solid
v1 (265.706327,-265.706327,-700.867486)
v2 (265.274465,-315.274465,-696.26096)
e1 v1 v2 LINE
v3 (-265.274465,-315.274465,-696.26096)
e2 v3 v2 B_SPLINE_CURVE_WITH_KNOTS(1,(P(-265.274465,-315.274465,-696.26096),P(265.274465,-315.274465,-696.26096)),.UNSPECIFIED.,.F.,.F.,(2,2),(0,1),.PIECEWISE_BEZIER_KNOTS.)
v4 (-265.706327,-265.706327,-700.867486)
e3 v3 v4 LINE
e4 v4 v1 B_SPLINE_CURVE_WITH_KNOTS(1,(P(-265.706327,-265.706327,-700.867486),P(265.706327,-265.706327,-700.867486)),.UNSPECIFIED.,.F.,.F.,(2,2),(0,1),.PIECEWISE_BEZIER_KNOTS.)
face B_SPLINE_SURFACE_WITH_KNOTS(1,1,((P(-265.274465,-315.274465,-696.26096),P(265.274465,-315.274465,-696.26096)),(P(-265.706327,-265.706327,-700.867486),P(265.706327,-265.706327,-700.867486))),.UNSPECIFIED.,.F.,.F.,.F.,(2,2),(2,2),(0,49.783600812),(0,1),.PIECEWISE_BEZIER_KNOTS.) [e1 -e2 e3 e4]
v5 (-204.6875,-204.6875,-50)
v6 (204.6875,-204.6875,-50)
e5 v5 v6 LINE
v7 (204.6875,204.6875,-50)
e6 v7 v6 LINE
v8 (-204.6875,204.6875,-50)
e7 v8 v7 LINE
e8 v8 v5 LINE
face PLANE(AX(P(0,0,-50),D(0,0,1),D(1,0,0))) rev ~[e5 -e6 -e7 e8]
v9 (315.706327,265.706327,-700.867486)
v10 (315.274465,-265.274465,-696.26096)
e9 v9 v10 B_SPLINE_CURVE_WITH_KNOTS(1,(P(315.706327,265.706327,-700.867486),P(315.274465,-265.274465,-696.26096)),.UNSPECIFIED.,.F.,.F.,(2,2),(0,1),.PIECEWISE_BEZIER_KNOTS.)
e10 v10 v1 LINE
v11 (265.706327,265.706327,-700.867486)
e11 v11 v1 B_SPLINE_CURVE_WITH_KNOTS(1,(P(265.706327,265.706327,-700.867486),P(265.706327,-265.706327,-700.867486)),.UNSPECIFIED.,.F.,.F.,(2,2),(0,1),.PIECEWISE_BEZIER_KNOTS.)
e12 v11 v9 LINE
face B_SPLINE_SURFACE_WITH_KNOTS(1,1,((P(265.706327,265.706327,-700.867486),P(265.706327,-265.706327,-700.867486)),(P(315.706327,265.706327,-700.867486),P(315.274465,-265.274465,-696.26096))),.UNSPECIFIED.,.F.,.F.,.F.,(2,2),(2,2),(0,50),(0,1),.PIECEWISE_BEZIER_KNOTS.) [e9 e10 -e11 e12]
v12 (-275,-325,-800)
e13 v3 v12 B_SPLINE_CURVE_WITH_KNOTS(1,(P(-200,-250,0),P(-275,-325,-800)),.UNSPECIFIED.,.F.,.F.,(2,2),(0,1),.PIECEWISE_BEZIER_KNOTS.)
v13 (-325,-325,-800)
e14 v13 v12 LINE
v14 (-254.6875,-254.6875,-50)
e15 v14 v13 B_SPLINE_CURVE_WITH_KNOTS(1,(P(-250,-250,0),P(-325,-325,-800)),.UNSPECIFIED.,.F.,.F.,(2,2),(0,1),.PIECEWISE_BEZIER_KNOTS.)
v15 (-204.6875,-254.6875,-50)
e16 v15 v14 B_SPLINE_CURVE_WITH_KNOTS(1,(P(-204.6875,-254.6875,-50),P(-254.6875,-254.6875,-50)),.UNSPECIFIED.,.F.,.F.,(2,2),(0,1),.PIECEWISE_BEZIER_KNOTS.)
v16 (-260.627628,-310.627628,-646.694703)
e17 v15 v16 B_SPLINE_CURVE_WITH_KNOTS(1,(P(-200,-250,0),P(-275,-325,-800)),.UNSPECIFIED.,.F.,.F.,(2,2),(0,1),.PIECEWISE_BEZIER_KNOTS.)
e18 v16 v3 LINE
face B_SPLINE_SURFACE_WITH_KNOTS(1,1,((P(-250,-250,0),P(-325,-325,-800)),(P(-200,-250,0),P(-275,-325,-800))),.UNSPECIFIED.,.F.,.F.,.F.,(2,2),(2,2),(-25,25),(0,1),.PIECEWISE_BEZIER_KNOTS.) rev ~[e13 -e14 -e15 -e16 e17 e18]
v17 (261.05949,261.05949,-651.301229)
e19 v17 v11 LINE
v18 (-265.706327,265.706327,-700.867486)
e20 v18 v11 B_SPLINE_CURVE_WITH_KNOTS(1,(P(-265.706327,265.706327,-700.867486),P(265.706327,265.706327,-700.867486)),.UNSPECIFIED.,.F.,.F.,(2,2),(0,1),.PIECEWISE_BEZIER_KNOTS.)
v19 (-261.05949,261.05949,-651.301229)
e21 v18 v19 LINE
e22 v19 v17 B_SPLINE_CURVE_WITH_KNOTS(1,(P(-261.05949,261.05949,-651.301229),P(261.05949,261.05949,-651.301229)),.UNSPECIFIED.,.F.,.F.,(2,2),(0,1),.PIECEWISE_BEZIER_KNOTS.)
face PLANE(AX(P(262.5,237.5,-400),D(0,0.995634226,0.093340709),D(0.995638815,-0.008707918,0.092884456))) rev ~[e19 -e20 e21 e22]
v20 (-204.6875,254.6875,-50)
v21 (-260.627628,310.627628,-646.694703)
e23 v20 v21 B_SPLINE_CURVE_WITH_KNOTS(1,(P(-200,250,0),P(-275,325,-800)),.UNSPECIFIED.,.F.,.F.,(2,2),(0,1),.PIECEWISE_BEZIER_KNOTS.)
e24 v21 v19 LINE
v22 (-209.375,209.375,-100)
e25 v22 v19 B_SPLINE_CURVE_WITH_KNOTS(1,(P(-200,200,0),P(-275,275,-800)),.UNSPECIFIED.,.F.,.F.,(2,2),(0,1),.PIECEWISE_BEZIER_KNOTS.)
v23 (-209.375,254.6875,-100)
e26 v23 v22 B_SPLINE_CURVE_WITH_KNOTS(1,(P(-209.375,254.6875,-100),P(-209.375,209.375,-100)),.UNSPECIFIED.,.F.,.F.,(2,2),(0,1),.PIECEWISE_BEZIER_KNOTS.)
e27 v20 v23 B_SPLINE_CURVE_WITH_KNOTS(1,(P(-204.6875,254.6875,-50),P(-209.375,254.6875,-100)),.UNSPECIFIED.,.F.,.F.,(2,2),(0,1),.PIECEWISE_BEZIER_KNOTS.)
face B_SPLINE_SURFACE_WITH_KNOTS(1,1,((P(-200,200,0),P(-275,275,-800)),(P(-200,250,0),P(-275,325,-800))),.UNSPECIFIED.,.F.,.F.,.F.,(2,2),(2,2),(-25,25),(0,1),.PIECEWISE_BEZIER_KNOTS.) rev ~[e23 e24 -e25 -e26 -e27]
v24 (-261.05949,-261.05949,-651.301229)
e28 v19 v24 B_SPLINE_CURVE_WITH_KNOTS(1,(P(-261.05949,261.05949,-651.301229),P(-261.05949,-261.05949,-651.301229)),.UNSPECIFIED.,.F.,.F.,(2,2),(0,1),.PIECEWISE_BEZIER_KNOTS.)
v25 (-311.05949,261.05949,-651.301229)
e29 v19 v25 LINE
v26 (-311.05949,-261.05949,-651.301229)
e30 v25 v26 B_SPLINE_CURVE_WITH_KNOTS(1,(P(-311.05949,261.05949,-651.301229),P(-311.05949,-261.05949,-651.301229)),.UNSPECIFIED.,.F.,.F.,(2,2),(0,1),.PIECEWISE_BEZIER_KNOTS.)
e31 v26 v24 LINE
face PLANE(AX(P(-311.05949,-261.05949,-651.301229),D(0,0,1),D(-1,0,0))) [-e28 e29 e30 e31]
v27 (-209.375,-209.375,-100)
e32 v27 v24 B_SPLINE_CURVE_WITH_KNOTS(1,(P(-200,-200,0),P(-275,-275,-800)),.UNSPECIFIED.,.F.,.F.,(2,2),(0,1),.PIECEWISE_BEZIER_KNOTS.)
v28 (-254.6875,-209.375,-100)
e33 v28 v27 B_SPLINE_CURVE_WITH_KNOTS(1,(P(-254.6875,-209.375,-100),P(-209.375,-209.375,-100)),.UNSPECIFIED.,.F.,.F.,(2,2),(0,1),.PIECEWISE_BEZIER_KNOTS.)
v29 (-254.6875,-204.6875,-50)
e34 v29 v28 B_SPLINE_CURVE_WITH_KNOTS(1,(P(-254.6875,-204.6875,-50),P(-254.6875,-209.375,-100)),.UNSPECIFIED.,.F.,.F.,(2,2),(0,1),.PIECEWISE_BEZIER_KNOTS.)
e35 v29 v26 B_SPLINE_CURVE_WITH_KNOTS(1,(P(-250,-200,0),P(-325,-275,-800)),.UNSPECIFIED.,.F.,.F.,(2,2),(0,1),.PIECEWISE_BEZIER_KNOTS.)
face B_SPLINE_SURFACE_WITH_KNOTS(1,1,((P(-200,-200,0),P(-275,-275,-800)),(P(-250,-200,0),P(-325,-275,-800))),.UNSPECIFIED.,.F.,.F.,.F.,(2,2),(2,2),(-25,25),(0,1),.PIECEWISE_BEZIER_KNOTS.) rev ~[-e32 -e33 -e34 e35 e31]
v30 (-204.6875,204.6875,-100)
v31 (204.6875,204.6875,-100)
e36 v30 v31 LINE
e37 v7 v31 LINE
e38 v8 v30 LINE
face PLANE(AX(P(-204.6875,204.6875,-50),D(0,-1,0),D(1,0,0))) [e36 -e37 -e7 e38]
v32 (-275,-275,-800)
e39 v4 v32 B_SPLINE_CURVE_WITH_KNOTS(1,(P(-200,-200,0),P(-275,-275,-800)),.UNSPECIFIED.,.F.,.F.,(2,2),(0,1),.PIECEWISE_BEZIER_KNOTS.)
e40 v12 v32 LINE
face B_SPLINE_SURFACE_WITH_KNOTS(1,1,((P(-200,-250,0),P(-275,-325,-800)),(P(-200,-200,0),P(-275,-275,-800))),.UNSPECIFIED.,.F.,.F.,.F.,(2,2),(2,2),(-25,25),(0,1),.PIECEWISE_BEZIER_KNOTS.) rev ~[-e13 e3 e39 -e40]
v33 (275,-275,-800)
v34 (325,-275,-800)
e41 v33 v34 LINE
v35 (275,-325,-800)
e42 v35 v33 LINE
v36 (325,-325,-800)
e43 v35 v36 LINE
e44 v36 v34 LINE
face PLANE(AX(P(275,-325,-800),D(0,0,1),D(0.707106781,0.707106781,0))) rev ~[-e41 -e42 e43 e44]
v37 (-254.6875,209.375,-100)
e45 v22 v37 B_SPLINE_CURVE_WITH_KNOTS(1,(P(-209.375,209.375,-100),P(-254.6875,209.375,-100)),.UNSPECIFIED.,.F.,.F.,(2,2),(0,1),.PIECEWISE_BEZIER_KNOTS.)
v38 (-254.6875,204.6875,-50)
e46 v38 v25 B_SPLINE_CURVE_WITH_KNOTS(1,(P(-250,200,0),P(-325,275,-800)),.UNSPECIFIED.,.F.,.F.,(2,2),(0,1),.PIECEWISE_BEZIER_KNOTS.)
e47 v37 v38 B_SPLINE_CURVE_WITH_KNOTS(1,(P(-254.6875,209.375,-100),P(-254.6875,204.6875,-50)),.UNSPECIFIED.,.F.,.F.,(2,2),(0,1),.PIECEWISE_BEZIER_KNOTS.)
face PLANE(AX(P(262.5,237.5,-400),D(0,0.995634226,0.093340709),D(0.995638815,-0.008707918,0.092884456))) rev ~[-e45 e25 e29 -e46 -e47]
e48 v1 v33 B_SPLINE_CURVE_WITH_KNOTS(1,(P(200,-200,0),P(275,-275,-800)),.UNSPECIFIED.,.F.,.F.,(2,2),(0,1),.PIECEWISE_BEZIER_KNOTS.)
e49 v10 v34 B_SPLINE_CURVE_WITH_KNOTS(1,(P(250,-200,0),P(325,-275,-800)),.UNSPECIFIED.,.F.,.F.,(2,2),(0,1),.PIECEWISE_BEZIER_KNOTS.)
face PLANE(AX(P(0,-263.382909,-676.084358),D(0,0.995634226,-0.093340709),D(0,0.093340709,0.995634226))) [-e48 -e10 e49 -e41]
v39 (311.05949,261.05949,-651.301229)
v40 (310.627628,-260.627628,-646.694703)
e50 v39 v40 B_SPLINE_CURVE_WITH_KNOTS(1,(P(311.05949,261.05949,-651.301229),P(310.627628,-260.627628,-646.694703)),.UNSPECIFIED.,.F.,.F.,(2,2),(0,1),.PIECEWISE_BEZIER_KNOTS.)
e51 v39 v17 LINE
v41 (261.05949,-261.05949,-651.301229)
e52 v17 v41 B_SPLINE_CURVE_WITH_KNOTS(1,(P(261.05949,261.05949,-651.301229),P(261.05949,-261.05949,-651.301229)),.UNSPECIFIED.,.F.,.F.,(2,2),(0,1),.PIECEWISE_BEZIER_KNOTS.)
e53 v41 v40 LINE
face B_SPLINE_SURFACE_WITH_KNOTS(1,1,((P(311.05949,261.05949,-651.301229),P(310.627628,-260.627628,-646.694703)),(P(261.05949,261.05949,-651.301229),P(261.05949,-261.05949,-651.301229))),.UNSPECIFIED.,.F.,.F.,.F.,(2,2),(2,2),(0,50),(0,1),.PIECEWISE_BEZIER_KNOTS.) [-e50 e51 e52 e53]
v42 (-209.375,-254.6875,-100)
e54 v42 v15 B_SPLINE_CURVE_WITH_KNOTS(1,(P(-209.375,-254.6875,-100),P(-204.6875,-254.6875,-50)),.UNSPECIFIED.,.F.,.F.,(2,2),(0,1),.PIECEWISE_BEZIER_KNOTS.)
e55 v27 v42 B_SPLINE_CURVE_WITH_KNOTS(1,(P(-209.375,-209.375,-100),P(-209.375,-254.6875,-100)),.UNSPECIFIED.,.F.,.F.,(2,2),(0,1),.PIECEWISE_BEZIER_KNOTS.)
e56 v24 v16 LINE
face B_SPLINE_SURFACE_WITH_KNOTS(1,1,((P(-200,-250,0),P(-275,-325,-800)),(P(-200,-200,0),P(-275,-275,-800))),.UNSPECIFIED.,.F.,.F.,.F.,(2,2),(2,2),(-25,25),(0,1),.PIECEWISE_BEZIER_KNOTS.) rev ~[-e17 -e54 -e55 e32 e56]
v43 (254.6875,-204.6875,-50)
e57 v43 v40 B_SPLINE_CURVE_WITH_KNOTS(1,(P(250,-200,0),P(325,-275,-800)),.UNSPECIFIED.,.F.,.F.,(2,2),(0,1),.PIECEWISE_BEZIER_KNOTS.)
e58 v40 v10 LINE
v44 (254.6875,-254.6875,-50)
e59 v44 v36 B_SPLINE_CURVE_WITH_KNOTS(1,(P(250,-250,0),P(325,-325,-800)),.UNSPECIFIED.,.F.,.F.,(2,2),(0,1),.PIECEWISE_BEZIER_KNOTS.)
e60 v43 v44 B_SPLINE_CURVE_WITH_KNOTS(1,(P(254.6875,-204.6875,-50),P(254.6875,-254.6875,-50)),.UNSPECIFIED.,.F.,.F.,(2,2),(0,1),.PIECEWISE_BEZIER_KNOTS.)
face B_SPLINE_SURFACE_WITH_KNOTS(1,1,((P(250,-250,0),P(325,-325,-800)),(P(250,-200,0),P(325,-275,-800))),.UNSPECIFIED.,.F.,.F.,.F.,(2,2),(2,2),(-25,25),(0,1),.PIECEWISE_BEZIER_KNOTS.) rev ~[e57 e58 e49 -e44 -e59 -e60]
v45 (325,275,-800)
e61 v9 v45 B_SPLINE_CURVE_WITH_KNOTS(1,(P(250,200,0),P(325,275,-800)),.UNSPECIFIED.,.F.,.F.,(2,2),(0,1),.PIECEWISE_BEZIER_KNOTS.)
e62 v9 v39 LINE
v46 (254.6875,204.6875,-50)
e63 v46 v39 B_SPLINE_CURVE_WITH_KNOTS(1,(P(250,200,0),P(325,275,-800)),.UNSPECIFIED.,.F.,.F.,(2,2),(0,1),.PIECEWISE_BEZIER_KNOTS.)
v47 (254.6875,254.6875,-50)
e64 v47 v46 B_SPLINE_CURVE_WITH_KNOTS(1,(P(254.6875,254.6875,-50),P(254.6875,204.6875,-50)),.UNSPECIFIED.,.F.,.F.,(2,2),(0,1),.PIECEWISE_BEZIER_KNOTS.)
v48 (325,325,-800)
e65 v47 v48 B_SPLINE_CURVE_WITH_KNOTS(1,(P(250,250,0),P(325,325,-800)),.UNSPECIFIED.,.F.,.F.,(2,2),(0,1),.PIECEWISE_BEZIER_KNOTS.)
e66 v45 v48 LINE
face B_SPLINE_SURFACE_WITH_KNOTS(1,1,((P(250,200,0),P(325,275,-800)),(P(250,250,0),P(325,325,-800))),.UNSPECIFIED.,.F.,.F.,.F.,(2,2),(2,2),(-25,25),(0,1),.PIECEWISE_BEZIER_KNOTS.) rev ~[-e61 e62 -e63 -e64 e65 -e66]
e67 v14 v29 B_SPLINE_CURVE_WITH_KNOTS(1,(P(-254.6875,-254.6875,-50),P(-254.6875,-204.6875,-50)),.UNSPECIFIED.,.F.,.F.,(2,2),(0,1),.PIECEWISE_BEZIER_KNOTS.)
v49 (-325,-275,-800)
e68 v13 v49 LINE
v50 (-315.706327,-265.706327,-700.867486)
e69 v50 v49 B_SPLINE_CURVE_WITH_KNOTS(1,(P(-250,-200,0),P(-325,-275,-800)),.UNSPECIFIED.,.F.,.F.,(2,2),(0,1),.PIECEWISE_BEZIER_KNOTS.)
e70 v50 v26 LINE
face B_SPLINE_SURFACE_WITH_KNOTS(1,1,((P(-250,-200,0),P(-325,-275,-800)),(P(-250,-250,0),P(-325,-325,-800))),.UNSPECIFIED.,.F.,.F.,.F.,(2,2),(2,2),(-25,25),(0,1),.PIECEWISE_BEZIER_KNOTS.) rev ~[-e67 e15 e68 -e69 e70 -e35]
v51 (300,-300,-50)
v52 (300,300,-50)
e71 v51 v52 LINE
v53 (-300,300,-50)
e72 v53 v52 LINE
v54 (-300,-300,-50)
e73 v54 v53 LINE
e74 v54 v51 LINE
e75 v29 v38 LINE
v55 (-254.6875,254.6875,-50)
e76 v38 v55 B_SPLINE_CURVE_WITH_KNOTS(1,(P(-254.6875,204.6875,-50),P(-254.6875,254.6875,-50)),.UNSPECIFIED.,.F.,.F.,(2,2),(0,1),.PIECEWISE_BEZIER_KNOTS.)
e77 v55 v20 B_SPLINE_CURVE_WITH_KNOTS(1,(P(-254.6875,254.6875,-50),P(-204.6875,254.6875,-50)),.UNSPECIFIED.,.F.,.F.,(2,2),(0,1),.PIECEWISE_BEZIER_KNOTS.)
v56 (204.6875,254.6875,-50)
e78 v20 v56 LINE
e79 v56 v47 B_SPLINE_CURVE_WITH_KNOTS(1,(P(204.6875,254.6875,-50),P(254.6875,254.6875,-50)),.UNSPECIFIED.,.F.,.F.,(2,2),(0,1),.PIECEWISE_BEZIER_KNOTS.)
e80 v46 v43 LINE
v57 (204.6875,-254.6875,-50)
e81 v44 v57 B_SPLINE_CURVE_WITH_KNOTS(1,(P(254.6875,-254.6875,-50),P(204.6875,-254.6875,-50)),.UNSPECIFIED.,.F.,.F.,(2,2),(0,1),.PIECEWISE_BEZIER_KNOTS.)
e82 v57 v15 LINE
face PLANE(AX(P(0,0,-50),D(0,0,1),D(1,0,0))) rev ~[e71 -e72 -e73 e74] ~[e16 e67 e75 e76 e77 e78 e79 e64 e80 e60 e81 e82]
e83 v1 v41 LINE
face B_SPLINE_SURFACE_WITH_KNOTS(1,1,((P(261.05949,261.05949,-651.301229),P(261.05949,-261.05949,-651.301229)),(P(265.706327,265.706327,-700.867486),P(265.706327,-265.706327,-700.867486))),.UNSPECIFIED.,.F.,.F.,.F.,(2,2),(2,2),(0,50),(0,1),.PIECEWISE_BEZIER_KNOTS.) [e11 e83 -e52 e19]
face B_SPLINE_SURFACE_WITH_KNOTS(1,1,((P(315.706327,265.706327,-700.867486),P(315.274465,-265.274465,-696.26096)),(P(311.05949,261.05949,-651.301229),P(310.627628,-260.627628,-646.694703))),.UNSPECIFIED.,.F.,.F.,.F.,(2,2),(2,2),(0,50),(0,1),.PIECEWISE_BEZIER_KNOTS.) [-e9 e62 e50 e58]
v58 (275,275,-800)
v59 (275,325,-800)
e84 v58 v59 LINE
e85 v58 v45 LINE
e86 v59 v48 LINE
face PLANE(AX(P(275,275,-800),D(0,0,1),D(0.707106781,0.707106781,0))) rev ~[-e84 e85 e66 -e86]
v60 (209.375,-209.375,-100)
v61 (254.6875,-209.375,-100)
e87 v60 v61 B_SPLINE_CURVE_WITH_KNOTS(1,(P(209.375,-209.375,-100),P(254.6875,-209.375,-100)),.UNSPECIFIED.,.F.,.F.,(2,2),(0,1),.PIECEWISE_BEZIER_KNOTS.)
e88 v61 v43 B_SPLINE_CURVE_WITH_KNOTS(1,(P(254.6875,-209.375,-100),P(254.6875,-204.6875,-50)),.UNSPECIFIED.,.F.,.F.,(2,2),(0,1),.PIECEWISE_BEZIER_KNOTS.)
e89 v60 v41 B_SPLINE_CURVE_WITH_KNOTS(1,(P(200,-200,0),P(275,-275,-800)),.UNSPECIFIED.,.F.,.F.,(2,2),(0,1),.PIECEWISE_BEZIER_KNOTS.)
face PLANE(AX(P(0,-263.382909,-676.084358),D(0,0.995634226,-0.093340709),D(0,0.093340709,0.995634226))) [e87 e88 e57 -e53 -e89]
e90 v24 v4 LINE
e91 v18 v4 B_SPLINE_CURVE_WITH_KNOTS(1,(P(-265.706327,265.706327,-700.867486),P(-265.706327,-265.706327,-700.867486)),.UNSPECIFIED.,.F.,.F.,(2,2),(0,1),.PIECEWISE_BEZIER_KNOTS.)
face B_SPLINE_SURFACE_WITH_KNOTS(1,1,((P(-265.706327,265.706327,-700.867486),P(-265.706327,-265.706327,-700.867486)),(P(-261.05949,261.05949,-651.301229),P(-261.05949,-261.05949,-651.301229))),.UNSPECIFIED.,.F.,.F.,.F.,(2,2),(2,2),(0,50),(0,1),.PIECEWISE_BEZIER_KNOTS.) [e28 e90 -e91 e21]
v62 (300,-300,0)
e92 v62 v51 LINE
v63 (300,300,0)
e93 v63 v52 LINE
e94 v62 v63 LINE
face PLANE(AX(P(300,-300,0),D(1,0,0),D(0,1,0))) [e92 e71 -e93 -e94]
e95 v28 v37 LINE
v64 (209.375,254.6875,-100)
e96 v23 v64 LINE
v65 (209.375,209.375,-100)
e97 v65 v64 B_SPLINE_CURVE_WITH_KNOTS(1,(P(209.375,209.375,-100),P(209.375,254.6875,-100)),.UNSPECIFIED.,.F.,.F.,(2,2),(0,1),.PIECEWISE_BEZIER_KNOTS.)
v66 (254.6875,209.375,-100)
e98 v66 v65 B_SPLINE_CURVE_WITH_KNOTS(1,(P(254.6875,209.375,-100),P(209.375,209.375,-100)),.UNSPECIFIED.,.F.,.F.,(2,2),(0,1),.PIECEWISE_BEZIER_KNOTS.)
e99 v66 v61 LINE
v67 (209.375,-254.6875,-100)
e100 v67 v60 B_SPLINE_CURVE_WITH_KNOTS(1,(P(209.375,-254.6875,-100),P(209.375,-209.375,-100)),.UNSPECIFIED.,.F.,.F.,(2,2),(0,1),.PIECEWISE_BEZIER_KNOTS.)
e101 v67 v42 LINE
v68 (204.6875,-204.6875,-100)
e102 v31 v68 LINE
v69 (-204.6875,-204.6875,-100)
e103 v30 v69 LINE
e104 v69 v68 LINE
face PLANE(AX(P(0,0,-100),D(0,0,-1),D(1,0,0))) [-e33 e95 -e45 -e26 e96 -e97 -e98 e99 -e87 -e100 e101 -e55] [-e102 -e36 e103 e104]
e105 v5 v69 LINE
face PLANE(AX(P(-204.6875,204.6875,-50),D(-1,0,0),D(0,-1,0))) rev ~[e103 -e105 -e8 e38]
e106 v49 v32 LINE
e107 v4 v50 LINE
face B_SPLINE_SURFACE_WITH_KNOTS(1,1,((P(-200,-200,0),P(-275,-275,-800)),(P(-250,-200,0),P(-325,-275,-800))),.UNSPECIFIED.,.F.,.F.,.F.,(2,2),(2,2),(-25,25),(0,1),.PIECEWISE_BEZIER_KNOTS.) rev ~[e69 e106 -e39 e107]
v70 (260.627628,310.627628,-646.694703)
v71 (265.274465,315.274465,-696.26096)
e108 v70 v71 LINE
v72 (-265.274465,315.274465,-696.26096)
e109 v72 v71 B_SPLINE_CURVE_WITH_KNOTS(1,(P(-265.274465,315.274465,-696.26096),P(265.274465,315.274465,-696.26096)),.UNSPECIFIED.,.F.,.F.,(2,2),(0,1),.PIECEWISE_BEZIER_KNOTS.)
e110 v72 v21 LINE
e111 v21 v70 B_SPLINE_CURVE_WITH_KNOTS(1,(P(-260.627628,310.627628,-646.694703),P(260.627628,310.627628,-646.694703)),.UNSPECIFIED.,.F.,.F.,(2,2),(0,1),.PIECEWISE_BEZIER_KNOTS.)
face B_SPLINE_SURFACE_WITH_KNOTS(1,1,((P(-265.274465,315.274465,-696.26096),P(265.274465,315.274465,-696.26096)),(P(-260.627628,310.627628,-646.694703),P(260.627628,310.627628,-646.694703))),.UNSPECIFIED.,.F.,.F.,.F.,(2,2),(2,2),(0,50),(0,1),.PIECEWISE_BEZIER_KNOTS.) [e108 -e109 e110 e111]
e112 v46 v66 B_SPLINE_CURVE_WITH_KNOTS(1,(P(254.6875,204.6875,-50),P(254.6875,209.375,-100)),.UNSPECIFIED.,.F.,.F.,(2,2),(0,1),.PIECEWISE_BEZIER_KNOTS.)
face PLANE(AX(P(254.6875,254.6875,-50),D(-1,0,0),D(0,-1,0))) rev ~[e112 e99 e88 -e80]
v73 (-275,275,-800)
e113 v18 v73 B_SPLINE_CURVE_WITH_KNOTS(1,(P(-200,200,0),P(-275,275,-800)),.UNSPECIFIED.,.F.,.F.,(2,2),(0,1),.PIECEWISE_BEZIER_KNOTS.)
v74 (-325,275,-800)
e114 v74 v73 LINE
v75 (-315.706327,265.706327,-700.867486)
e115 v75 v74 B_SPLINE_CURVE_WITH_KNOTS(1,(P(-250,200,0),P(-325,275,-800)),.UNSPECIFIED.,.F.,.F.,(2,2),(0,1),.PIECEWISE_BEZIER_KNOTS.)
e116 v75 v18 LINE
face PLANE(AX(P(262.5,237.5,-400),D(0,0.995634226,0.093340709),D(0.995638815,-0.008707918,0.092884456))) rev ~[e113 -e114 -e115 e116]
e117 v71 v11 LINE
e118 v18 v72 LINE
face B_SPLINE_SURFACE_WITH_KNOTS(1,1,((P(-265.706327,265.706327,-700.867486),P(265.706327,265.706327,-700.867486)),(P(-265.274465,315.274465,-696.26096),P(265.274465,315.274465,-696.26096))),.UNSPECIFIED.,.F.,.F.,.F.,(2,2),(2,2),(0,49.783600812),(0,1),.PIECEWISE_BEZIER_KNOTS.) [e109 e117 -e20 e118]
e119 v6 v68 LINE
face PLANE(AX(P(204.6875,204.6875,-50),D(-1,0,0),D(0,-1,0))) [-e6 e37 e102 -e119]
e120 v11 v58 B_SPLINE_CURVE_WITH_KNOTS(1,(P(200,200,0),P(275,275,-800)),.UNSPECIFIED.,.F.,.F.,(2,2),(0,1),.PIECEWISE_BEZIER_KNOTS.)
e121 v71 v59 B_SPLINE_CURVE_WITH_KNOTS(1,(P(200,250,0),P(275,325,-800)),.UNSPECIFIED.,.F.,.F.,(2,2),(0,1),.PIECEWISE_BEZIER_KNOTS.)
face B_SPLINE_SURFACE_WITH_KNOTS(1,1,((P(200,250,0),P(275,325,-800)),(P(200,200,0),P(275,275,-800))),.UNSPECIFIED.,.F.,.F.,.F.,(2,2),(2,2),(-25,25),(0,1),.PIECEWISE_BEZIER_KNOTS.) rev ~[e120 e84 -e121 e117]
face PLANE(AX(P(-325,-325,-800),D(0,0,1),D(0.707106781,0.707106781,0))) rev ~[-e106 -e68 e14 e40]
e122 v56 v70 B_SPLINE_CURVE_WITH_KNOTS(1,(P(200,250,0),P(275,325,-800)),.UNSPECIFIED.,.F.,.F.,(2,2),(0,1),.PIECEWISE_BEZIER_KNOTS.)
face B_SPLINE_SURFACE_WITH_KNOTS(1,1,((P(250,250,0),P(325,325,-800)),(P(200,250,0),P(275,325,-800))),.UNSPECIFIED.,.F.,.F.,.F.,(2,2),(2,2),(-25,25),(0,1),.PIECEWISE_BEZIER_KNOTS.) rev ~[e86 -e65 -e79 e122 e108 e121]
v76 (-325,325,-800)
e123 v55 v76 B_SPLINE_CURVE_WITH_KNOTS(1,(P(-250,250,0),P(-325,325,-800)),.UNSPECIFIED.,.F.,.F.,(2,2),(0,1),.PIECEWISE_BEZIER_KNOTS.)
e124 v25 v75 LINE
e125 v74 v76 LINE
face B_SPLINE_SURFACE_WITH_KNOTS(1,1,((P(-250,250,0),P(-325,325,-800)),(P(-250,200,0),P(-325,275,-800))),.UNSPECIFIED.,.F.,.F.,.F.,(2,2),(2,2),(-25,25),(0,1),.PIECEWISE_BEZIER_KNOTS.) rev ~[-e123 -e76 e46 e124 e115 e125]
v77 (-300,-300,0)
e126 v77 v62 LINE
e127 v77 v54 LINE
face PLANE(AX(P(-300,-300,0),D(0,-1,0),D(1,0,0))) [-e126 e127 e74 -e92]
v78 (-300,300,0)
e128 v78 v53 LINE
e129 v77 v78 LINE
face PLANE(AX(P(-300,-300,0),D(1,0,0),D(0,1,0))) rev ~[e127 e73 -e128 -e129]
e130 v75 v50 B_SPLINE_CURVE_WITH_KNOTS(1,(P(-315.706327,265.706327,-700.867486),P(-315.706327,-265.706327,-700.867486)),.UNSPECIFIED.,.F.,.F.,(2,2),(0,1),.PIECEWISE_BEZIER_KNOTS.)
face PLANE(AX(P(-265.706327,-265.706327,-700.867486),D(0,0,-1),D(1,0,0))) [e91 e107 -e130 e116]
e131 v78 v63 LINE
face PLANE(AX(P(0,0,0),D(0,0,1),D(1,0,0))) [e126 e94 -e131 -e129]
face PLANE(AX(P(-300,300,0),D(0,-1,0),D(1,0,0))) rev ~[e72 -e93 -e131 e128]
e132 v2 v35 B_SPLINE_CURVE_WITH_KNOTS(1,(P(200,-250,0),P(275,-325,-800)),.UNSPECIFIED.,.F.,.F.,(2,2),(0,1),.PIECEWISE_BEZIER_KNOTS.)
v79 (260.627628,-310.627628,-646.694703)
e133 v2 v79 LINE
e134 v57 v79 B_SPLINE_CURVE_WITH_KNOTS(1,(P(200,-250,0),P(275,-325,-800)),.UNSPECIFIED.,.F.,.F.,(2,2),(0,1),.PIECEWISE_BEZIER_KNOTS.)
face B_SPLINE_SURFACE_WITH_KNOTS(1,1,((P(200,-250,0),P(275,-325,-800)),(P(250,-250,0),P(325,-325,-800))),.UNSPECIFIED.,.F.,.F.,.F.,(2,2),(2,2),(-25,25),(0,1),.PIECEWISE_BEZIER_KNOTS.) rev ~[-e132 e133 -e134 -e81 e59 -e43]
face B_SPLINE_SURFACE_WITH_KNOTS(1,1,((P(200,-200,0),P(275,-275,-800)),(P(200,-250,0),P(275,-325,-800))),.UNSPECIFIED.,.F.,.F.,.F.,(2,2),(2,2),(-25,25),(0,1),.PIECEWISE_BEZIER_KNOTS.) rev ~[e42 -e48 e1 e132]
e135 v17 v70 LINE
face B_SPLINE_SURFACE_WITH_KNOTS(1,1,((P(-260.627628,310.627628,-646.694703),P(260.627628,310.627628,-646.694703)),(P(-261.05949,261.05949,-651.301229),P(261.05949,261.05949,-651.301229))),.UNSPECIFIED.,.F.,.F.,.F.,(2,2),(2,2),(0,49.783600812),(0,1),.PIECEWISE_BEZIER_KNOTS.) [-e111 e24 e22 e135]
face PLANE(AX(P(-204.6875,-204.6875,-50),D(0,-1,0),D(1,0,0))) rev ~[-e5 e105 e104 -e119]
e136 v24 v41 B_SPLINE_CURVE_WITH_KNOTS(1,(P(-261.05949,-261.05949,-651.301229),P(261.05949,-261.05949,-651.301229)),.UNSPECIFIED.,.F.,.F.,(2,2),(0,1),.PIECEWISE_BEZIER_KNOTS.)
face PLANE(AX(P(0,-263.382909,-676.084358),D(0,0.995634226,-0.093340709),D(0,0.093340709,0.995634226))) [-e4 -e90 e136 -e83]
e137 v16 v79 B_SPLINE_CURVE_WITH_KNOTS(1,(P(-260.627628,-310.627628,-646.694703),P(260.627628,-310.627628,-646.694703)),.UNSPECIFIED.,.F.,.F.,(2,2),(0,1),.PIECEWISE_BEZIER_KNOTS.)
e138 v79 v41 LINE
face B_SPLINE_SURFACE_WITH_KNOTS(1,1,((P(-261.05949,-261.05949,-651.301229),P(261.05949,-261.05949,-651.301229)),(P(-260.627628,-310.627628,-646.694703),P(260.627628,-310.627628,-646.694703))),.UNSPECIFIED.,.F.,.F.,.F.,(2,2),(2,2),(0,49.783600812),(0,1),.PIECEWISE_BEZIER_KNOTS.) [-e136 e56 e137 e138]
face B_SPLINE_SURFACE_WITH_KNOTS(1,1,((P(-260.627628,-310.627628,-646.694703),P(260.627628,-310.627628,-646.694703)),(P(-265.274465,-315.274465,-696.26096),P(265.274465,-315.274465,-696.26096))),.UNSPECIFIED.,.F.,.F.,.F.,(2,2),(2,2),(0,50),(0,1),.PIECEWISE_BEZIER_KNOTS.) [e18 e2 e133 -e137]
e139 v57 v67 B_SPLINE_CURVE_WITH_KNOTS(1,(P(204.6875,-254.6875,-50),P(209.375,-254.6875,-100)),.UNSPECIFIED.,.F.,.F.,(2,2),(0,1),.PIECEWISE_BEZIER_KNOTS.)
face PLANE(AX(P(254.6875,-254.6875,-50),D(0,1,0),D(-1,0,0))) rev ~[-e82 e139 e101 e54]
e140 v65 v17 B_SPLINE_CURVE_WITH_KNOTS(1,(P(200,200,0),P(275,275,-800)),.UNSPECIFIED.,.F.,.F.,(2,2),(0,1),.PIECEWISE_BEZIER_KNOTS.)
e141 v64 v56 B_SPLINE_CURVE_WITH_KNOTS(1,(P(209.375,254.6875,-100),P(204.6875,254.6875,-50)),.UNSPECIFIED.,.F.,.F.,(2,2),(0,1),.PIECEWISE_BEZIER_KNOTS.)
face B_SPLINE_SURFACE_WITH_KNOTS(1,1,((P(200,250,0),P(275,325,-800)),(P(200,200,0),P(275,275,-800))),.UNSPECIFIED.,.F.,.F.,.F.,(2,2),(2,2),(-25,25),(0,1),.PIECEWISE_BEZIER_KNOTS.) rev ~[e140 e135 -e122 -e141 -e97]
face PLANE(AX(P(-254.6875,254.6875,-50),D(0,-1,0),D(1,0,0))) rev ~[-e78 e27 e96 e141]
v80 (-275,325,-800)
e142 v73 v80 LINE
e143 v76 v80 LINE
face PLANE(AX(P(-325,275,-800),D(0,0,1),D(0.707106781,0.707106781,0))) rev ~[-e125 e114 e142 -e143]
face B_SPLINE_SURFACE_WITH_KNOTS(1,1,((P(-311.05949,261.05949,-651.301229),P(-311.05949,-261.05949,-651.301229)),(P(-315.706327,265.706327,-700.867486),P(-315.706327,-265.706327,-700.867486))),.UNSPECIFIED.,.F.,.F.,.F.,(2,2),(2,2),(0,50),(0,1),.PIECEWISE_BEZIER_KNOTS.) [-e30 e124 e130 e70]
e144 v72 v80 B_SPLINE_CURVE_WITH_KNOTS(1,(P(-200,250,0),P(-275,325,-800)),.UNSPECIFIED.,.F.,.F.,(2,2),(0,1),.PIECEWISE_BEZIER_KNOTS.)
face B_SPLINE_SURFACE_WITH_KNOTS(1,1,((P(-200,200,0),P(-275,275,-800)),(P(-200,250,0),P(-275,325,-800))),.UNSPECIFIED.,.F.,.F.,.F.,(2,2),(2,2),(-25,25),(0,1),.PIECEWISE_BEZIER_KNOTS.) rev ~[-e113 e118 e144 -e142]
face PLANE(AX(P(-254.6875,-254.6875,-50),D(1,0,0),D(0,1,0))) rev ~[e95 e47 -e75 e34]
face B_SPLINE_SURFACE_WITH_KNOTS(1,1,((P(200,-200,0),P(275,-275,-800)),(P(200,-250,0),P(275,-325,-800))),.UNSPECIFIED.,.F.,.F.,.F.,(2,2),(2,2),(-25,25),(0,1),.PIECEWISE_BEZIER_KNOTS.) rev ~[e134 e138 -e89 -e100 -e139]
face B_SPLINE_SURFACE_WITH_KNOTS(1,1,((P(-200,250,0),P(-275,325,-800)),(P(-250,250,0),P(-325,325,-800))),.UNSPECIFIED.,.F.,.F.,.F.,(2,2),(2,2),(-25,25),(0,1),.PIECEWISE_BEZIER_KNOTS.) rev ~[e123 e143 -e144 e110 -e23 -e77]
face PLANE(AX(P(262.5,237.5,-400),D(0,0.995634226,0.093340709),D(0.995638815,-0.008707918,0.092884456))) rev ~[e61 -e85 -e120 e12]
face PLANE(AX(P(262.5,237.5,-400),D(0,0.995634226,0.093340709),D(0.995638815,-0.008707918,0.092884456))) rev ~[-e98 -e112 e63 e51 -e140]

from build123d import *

# Parameters (mm, degrees)
F0_W      = 50
F0_H      = 50
F2_W      = 50
F2_H      = 50
F3_W      = 600
F3_H      = 600
F8_DEPTH  = 50
F9_W      = 409.375
F9_H      = 409.375
F10_DEPTH = 50


with BuildPart() as f4:
    # F0 (on Top) → F4 section 0
    with BuildSketch(Plane.XY):
        with Locations((-225, -225)):
            Rectangle(F0_W, F0_H)
    # F2 (on offset) → F4 section 1
    with BuildSketch(Plane.XY.offset(-800)):
        with Locations((-300, -300)):
            Rectangle(F2_W, F2_H)
    loft()



with BuildPart() as f5:
    # F0 (on Top) → F5 section 0
    with BuildSketch(Plane.XY):
        with Locations((225, -225)):
            Rectangle(F0_W, F0_H)
    # F2 (on offset) → F5 section 1
    with BuildSketch(Plane.XY.offset(-800)):
        with Locations((300, -300)):
            Rectangle(F2_W, F2_H)
    loft()


with BuildPart() as f6:
    # F0 (on Top) → F6 section 0
    with BuildSketch(Plane.XY):
        with Locations((-225, 225)):
            Rectangle(F0_W, F0_H)
    # F2 (on offset) → F6 section 1
    with BuildSketch(Plane.XY.offset(-800)):
        with Locations((-300, 300)):
            Rectangle(F2_W, F2_H)
    loft()


with BuildPart() as f7:
    # F0 (on Top) → F7 section 0
    with BuildSketch(Plane.XY):
        with Locations((225, 225)):
            Rectangle(F0_W, F0_H)
    # F2 (on offset) → F7 section 1
    with BuildSketch(Plane.XY.offset(-800)):
        with Locations((300, 300)):
            Rectangle(F2_W, F2_H)
    loft()


with BuildPart() as f4_1:
    add(f4.part)

    add(f5.part)  # F8 merges F5

    add(f6.part)  # F8 merges F6

    add(f7.part)  # F8 merges F7
    # F3 (on Top) → F8 (join)
    with BuildSketch(Plane.XY):
        Rectangle(F3_W, F3_H)
    extrude(amount=-F8_DEPTH)

    # F9 (on face) → F10 (join)
    with BuildSketch(Plane(origin=(0, 0, -50), x_dir=(1, 0, 0), z_dir=(0, 0, -1))):
        Polygon((254.6875, -254.6875), (254.6875, -204.6875), (254.6875, 204.6875), (254.6875, 254.6875), (204.6875, 254.6875), (-204.6875, 254.6875), (-254.6875, 254.6875), (-254.6875, -254.6875), (-204.6875, -254.6875), (204.6875, -254.6875), align=None)
        Rectangle(F9_W, F9_H, mode=Mode.SUBTRACT)
    extrude(amount=F10_DEPTH)

    # F13 (on face) → F15 section 0
    with BuildSketch(Plane(origin=(-198.2575024201, 0, 18.5866408519), x_dir=(0, 1, 0), z_dir=(0.9956342261, 0, -0.0933407087))):
        Polygon((261.0594902568, -672.8252733026), (265.7063268379, -722.6088741144), (315.2744650336, -717.9821489666), (310.6276284526, -668.1985481548), align=None)
    # F14 (on face) → F15 section 1
    with BuildSketch(Plane(origin=(198.2575024201, 0, 18.5866408519), x_dir=(0, -1, 0), z_dir=(-0.9956342261, 0, -0.0933407087))):
        Polygon((-315.2744650336, -717.9821489666), (-265.7063268379, -722.6088741144), (-261.0594902568, -672.8252733026), (-310.6276284526, -668.1985481548), align=None)
    loft()

    # F12 (on face) → F18 section 0
    with BuildSketch(Plane(origin=(0, 198.2575024201, 18.5866408519), x_dir=(1, 0, 0), z_dir=(0, -0.9956342261, -0.0933407087))):
        Polygon((-315.7063268379, -722.6088741144), (-265.7063268379, -722.6088741144), (-261.0594902568, -672.8252733026), (-311.0594902568, -672.8252733026), align=None)
    # F16 (on face) → F18 section 1
    with BuildSketch(Plane(origin=(0, -198.2575024201, 18.5866408519), x_dir=(-1, 0, 0), z_dir=(0, 0.9956342261, -0.0933407087))):
        Polygon((261.0594902568, -672.8252733026), (265.7063268379, -722.6088741144), (315.7063268379, -722.6088741144), (311.0594902568, -672.8252733026), align=None)
    loft()

    # F17 (on face) → F21 section 0
    with BuildSketch(Plane(origin=(-198.2575024201, 0, 18.5866408519), x_dir=(0, 1, 0), z_dir=(0.9956342261, 0, -0.0933407087))):
        Polygon((-315.2744650336, -717.9821489666), (-265.7063268379, -722.6088741144), (-261.0594902568, -672.8252733026), (-310.6276284526, -668.1985481548), align=None)
    # F19 (on face) → F21 section 1
    with BuildSketch(Plane(origin=(198.2575024201, 0, 18.5866408519), x_dir=(0, -1, 0), z_dir=(-0.9956342261, 0, -0.0933407087))):
        Polygon((261.0594902568, -672.8252733026), (265.7063268379, -722.6088741144), (315.2744650336, -717.9821489666), (310.6276284526, -668.1985481548), align=None)
    loft()

    # F22 (on face) → F23 section 0
    with BuildSketch(Plane(origin=(0, 198.2575024201, 18.5866408519), x_dir=(1, 0, 0), z_dir=(0, -0.9956342261, -0.0933407087))):
        Polygon((261.0594902568, -672.8252733026), (265.7063268379, -722.6088741144), (315.7063268379, -722.6088741144), (311.0594902568, -672.8252733026), align=None)
    # F20 (on face) → F23 section 1
    with BuildSketch(Plane(origin=(0, -198.2575024201, 18.5866408519), x_dir=(-1, 0, 0), z_dir=(0, 0.9956342261, -0.0933407087))):
        Polygon((-315.2744650336, -717.9821489666), (-265.7063268379, -722.6088741144), (-261.0594902568, -672.8252733026), (-310.6276284526, -668.1985481548), align=None)
    loft()


solid = f4_1.part
